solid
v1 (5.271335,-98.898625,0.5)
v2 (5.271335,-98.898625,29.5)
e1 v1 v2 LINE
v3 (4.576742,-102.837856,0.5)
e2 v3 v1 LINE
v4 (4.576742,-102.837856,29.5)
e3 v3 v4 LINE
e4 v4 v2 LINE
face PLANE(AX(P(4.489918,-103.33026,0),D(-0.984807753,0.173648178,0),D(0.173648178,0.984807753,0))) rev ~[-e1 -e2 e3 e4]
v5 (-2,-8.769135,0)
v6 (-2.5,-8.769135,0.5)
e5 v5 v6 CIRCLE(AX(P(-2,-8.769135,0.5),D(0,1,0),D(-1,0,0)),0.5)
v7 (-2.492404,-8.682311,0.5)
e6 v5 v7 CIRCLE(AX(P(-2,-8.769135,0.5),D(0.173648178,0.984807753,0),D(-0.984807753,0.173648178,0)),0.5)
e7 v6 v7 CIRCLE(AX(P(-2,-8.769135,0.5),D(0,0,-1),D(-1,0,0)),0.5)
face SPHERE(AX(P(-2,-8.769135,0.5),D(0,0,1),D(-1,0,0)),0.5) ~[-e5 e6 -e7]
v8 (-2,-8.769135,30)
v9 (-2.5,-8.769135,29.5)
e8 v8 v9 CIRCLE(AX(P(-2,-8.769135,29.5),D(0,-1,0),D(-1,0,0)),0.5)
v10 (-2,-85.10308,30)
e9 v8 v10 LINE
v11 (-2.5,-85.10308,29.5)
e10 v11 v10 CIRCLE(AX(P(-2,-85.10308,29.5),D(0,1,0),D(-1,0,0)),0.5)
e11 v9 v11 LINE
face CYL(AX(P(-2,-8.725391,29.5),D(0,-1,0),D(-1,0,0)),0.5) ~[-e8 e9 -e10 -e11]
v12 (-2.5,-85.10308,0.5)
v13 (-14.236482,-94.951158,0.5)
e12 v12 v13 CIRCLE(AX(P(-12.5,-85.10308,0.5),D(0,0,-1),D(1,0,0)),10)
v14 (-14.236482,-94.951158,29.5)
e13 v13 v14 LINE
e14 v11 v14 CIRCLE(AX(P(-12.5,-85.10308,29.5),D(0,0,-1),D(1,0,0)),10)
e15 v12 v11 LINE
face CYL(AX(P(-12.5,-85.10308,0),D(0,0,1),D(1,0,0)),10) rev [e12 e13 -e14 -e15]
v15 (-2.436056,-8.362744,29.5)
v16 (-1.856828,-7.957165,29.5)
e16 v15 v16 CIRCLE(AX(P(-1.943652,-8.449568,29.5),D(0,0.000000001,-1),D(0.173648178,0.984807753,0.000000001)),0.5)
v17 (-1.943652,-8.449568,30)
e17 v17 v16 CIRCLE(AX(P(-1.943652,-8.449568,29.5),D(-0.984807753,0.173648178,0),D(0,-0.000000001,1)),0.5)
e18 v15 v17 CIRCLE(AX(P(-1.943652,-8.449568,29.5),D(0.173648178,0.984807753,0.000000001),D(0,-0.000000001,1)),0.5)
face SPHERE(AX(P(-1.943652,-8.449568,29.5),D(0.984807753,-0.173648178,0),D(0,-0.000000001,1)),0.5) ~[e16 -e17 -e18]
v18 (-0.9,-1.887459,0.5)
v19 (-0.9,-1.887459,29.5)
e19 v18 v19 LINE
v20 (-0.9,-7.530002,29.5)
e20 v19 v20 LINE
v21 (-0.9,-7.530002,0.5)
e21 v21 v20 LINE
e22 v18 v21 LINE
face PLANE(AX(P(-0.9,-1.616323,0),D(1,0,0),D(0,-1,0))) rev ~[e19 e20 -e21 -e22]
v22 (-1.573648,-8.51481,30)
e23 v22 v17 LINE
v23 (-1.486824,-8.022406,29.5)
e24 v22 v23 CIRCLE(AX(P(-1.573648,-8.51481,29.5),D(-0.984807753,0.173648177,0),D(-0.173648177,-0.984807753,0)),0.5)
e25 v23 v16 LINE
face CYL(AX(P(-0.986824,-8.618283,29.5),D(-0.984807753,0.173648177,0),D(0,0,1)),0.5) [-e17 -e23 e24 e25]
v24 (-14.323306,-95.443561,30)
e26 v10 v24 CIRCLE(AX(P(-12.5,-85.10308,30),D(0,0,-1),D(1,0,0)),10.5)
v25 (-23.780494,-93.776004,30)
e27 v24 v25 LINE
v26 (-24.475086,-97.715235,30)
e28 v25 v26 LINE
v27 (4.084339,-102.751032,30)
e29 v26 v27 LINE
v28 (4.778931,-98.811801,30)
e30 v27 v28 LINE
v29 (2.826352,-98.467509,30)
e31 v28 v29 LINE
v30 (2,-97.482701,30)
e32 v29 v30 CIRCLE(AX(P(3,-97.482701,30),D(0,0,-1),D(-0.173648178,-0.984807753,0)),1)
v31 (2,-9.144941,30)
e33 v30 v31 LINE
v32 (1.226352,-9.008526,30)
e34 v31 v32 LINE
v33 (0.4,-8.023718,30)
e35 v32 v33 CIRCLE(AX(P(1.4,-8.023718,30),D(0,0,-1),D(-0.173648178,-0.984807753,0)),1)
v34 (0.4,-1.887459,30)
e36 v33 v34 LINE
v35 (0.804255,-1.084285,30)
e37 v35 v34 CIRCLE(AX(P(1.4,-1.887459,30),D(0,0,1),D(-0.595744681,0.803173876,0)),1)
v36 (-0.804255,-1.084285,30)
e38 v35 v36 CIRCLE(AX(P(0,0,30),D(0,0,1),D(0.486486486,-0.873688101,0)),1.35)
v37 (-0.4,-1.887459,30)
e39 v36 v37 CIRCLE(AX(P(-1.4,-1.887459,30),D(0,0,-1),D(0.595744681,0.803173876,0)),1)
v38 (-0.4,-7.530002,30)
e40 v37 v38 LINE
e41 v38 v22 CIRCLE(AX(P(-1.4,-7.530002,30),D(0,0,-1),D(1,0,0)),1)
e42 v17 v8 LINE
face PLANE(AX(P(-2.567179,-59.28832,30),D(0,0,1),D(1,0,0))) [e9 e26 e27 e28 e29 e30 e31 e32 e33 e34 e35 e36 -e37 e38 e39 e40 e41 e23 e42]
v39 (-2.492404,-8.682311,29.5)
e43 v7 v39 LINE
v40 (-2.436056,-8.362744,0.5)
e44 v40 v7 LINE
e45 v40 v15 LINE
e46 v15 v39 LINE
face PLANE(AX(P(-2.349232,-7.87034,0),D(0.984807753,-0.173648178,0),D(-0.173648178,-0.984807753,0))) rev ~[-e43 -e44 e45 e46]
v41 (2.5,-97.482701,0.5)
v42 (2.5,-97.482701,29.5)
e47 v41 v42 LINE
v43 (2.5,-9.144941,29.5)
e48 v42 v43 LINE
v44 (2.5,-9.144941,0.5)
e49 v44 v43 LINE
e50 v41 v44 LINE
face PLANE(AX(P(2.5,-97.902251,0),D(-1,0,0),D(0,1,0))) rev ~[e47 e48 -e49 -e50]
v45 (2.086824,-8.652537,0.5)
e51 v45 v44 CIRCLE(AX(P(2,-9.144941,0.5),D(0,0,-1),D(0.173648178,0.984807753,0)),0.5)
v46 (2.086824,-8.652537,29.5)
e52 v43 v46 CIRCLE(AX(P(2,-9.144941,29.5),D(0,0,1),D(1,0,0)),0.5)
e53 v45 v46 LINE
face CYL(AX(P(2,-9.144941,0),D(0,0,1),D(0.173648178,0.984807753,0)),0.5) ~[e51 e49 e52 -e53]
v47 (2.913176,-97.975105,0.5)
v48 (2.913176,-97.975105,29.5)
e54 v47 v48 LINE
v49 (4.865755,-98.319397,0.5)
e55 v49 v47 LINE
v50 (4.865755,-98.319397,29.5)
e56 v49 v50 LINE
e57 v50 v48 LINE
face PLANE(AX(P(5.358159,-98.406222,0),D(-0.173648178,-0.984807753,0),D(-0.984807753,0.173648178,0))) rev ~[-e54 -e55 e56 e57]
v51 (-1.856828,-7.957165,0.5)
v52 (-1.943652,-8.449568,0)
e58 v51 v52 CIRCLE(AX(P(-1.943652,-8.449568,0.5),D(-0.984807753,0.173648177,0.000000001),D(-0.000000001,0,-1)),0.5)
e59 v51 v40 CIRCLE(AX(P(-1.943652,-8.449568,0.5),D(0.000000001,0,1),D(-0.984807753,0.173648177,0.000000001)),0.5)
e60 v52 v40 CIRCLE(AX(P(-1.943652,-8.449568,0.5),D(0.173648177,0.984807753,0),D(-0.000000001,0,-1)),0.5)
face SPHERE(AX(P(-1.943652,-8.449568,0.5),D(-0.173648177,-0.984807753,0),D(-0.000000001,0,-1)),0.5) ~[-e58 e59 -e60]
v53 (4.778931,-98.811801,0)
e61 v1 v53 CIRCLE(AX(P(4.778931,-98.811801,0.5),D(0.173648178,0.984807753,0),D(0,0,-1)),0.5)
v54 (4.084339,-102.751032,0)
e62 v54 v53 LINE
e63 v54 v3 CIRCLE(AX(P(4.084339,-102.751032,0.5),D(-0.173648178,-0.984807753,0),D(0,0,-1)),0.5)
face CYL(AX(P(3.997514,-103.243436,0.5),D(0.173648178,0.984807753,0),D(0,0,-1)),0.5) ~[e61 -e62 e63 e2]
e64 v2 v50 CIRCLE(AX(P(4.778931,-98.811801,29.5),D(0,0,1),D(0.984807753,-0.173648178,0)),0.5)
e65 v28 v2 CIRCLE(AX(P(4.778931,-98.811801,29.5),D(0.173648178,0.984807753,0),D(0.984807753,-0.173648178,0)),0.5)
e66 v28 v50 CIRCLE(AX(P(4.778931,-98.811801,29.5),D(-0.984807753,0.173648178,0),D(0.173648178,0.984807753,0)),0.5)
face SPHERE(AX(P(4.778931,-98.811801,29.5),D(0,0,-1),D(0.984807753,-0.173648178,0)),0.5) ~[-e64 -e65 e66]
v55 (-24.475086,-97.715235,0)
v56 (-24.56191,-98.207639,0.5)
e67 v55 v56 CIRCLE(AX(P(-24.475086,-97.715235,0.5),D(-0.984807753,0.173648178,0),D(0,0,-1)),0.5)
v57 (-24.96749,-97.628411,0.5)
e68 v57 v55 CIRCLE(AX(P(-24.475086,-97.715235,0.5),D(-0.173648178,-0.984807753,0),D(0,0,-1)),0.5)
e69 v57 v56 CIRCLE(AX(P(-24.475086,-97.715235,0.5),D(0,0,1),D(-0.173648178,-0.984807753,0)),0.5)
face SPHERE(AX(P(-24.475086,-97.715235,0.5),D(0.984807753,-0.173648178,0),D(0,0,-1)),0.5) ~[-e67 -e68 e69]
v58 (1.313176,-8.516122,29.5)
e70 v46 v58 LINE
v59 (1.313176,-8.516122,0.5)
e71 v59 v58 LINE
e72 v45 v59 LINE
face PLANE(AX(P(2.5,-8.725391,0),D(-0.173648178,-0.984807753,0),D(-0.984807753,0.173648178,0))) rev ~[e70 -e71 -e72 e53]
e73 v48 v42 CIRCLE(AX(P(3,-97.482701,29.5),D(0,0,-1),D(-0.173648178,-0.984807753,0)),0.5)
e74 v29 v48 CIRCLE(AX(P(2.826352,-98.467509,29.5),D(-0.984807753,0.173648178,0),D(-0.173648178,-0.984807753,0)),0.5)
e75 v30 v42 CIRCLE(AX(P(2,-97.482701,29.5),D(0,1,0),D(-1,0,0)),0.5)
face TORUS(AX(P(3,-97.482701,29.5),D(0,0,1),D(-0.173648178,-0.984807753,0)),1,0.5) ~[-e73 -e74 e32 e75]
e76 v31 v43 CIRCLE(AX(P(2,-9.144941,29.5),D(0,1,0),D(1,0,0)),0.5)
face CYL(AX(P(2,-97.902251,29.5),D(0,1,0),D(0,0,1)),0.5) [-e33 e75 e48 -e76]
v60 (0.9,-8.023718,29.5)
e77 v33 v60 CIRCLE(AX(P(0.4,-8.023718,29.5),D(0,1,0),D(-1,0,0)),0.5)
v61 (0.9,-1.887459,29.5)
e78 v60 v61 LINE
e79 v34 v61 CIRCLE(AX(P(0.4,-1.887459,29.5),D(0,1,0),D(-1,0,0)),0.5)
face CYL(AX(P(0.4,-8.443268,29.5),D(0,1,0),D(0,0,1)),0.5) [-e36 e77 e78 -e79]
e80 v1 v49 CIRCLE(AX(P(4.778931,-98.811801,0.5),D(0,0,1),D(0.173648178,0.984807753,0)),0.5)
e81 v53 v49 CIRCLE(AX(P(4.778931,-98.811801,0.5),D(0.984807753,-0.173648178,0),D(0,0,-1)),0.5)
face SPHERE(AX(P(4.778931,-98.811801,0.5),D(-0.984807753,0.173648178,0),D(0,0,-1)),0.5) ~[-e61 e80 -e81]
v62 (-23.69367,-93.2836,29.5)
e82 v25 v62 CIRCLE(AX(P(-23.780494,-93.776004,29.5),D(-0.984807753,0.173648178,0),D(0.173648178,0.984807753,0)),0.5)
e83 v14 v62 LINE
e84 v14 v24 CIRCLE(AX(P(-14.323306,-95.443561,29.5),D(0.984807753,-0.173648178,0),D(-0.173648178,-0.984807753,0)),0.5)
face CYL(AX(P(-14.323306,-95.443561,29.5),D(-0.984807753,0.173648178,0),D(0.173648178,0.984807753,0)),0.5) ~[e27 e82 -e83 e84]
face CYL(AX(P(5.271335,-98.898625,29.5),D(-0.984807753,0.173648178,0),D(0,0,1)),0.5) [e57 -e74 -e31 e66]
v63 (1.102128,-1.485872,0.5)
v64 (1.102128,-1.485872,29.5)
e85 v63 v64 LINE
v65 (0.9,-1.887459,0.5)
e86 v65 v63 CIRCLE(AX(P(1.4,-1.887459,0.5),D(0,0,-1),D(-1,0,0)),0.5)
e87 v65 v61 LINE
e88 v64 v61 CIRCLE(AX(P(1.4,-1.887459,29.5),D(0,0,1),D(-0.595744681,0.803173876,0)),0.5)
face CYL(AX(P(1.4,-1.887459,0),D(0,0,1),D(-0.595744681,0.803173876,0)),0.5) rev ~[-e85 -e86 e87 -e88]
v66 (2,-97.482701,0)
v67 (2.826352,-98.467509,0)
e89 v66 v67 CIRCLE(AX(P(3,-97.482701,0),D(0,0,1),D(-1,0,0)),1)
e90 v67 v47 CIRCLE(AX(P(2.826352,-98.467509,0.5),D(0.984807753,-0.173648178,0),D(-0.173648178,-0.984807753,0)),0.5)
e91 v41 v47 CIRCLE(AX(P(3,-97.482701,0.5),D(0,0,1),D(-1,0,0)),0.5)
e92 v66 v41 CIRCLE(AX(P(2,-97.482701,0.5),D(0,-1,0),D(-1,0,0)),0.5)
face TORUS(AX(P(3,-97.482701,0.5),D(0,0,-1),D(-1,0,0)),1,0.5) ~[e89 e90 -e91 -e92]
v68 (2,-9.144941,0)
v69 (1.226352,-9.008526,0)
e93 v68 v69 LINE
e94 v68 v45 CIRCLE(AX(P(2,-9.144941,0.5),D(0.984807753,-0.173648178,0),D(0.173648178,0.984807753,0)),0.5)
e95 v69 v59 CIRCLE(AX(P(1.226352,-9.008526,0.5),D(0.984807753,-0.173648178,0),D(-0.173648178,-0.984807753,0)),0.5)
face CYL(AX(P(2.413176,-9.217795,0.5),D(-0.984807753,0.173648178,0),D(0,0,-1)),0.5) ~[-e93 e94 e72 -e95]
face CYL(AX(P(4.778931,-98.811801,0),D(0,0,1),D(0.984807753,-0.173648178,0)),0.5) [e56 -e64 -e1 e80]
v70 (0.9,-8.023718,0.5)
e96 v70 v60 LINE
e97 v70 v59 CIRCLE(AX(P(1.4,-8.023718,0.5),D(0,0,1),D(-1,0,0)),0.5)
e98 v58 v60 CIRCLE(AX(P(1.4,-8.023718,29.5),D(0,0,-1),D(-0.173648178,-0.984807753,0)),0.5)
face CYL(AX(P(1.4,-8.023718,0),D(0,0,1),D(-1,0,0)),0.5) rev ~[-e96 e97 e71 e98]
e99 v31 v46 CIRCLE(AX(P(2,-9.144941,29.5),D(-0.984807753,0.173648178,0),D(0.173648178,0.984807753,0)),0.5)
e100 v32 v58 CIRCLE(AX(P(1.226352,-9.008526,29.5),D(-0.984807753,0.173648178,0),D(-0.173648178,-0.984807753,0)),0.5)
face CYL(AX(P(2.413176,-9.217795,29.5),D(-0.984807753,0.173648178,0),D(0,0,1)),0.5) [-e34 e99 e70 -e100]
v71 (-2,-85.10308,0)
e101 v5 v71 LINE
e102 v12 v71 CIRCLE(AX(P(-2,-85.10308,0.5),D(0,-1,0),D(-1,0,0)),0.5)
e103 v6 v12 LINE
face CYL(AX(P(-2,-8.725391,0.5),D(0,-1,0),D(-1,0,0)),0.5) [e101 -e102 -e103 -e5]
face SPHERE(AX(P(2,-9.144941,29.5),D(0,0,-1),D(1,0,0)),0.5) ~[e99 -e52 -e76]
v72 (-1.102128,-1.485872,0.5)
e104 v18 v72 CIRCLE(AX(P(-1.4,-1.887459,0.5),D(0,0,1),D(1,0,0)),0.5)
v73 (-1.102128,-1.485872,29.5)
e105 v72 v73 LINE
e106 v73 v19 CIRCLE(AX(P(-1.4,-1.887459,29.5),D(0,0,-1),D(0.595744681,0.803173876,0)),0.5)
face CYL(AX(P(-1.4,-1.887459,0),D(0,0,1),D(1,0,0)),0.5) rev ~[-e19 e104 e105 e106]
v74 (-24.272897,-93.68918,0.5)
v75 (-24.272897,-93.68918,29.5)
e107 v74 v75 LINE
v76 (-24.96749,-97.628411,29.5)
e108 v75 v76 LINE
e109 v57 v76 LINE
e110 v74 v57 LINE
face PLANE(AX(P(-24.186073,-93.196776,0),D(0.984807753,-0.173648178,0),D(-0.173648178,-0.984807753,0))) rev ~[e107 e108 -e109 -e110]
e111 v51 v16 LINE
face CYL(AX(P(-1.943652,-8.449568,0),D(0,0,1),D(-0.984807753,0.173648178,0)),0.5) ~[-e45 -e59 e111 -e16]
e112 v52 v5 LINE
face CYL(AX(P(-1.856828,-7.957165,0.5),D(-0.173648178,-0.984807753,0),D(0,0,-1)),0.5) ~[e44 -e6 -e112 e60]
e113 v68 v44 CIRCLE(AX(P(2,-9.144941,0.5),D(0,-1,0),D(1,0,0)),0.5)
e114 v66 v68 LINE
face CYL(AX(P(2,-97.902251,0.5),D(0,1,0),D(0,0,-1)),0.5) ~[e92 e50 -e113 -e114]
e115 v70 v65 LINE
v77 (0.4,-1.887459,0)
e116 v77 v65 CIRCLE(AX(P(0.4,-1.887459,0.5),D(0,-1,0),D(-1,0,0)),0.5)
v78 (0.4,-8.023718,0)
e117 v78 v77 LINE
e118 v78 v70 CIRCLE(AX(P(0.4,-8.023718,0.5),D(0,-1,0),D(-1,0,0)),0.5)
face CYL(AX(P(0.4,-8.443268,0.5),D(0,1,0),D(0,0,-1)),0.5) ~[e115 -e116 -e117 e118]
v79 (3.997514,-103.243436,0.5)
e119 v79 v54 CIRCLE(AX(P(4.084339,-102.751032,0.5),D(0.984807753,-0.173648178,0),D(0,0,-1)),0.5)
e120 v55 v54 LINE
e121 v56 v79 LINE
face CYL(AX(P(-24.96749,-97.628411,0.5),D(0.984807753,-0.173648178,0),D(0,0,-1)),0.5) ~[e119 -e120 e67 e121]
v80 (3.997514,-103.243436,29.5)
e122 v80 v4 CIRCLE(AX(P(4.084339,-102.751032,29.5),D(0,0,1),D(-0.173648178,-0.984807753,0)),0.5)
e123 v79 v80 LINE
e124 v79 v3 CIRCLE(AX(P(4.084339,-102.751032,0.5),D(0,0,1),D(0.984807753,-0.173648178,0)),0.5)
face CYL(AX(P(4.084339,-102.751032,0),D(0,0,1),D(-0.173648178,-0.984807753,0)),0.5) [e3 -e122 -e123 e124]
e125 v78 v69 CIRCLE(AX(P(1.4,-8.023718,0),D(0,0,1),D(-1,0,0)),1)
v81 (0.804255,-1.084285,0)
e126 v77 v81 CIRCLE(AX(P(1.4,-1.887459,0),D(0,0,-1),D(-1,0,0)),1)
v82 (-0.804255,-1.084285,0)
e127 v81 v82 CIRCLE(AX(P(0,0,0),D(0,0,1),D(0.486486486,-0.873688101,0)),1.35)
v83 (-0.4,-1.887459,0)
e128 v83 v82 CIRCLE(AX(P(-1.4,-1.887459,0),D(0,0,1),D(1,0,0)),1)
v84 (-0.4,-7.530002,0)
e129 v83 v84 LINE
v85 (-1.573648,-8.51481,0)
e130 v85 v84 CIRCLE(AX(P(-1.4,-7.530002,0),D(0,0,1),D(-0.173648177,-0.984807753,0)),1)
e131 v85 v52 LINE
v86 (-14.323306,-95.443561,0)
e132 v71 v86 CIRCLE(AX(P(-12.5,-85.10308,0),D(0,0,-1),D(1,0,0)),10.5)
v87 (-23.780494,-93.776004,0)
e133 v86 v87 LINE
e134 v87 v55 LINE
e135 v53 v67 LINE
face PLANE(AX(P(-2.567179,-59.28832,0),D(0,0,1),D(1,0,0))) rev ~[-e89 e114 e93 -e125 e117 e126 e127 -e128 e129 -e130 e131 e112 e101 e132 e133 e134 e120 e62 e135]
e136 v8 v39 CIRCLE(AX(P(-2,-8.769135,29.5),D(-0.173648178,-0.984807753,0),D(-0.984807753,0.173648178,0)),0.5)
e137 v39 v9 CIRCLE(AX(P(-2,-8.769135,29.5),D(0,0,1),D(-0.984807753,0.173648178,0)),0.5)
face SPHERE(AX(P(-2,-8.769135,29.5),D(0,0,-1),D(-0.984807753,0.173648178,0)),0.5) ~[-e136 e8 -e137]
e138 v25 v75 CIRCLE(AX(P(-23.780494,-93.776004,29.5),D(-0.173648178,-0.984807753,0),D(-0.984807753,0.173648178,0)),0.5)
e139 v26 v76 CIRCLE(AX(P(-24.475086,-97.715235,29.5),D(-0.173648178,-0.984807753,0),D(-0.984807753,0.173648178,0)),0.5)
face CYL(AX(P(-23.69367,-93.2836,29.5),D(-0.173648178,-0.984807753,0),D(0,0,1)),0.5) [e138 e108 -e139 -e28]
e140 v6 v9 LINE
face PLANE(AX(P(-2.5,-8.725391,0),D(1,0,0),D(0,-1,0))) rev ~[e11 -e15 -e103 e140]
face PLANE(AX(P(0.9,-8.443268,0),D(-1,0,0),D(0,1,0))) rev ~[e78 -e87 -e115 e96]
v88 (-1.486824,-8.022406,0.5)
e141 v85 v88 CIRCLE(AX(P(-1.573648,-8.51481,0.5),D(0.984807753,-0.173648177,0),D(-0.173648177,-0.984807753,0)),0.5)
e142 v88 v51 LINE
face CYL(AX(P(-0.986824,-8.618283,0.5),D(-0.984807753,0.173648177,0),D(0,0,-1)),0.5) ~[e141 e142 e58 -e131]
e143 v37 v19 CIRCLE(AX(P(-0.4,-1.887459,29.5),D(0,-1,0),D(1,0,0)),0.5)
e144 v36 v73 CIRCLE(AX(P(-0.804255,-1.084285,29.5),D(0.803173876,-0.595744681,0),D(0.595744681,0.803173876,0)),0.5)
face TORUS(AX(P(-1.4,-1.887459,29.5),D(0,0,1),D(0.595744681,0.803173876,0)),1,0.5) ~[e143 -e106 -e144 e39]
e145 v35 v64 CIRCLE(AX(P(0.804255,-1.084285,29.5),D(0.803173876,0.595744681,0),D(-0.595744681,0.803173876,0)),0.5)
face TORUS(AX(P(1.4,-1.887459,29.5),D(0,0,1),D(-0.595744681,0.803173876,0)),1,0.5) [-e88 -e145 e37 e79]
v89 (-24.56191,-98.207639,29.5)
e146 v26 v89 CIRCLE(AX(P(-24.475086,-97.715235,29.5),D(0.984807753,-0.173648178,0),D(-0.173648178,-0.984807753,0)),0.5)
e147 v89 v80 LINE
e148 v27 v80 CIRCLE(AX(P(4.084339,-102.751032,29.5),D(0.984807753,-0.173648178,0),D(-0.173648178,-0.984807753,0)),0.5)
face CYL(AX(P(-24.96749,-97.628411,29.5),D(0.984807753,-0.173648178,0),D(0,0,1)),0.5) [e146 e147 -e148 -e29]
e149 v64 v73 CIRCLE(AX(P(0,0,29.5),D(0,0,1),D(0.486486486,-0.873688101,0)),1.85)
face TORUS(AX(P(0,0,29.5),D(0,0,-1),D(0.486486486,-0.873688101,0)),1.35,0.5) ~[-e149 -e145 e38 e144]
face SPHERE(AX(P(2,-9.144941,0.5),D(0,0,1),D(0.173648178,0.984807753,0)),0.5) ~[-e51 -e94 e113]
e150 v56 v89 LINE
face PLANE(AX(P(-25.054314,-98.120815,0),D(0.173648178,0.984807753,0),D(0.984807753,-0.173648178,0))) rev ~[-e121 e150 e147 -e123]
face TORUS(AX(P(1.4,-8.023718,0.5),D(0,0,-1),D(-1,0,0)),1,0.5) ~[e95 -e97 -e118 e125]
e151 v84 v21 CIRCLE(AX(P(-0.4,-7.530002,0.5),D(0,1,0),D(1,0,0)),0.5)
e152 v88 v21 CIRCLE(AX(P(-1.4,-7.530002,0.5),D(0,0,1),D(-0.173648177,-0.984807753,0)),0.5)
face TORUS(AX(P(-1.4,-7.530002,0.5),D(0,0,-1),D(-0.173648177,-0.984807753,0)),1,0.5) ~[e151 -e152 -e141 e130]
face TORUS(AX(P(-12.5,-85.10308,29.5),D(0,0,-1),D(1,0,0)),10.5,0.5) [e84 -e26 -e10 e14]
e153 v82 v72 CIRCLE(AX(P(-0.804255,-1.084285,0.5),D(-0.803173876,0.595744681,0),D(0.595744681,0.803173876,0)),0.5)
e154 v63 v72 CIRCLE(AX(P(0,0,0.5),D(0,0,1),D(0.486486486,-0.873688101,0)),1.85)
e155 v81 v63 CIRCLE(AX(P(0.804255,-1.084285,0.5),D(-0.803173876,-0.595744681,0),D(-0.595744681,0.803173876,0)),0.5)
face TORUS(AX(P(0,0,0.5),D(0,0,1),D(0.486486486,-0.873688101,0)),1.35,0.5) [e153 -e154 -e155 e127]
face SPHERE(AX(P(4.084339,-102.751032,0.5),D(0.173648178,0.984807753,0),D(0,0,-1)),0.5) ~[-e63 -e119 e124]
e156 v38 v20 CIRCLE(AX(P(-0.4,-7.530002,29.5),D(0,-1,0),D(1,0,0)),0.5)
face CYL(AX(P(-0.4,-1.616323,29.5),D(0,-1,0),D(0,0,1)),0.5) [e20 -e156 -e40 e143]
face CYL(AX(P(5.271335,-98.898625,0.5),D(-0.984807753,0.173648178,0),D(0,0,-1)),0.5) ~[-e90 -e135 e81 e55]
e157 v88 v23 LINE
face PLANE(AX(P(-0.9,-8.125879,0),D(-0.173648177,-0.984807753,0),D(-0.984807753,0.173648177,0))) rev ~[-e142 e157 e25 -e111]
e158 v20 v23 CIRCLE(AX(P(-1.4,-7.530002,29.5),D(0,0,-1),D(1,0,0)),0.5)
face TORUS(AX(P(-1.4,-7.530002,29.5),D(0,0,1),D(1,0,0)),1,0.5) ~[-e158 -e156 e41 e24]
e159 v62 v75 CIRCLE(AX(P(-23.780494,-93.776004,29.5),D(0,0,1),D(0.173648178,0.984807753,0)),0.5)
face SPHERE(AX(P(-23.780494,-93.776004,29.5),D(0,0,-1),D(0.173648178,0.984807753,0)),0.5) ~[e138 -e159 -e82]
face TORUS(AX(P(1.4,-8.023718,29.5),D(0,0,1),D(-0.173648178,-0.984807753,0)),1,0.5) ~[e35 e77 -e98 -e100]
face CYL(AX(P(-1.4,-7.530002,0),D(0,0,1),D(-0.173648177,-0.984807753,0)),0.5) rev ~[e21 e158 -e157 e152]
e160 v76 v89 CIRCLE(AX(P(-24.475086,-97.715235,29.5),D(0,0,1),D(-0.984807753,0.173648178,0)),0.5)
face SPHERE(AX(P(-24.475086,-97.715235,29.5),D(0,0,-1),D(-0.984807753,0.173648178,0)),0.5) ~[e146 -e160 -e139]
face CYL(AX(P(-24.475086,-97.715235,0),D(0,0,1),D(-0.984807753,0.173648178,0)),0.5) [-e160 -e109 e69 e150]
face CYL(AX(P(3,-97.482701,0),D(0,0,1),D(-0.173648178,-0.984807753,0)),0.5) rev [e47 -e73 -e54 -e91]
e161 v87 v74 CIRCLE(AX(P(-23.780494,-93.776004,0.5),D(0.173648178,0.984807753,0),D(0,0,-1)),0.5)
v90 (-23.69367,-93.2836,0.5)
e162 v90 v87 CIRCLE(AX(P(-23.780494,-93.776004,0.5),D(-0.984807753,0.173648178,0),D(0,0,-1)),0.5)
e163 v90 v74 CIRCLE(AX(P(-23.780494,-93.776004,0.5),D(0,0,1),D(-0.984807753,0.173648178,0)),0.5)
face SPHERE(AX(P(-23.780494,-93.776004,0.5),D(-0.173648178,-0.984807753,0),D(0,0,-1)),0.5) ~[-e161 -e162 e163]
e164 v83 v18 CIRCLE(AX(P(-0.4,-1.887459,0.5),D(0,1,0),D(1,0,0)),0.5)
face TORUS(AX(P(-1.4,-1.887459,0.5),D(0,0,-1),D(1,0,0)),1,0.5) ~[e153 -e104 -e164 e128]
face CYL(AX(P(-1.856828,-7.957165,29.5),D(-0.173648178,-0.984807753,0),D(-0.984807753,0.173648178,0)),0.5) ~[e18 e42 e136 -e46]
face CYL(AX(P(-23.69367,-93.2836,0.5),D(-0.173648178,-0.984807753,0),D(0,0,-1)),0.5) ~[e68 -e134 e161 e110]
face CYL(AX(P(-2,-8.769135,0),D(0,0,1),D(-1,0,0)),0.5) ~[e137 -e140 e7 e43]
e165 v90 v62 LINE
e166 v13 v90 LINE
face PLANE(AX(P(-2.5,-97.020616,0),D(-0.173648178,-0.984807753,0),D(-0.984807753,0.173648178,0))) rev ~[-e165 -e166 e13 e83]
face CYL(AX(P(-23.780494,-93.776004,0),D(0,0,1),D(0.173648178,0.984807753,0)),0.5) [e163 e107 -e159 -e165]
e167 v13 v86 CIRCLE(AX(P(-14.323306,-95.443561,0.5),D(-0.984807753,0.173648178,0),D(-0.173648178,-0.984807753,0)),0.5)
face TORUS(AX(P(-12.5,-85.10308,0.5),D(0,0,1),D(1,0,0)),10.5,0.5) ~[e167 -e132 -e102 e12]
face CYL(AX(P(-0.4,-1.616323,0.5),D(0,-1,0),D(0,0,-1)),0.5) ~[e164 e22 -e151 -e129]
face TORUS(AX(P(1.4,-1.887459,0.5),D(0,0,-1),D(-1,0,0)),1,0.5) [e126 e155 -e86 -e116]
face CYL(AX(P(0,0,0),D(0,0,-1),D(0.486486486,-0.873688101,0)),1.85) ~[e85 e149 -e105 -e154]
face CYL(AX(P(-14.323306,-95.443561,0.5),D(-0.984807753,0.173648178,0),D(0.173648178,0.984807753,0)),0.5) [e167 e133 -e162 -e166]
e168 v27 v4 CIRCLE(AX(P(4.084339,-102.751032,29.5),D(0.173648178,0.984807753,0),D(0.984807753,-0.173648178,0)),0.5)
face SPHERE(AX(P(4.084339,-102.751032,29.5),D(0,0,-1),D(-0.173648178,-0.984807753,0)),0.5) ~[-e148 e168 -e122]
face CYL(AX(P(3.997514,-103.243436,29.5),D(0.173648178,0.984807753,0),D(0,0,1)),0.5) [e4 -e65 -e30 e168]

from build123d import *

# Parameters (mm, degrees)
SALIENTE_EXTRUIR1_DEPTH = 30
REDONDEO1_R             = 10
REDONDEO2_R             = 0.5


with BuildPart() as part:
    # Croquis1 → Saliente-Extruir1 (new body)
    with BuildSketch(Plane.XY):
        with BuildLine():
            ThreePointArc((0.9, -1.616322988), (0, 1.85), (-0.9, -1.616322988))
            Line((-0.9, -1.616322988), (-0.9, -8.125879105))
            Line((-0.9, -8.125879105), (-2.349231552, -7.870340482))
            Line((-2.349231552, -7.870340482), (-2.5, -8.72539084))
            Line((-2.5, -8.72539084), (-2.5, -97.020616019))
            Line((-2.5, -97.020616019), (-24.186073381, -93.196776176))
            Line((-24.186073381, -93.196776176), (-25.054314269, -98.120814941))
            Line((-25.054314269, -98.120814941), (4.489918321, -103.330260271))
            Line((4.489918321, -103.330260271), (5.358159209, -98.406221506))
            Line((5.358159209, -98.406221506), (2.5, -97.902250922))
            Line((2.5, -97.902250922), (2.5, -8.72539084))
            Line((2.5, -8.72539084), (0.9, -8.443267671))
            Line((0.9, -8.443267671), (0.9, -1.616322988))
        make_face()
    extrude(amount=SALIENTE_EXTRUIR1_DEPTH)

    # Redondeo1
    redondeo1_edges = [part.edges().sort_by_distance(p)[0] for p in [
        (-2.5, -97.020616019, 15),
    ]]
    fillet(redondeo1_edges, radius=REDONDEO1_R)

    # Redondeo2
    redondeo2_edges = [part.edges().sort_by_distance(p)[0] for p in [
        (-0.9, -4.871101047, 30),
        (-1.624615776, -7.998109794, 30),
        (0.9, -5.029795329, 0),
        (1.7, -8.584329255, 0),
        (2.5, -53.313820881, 0),
        (3.929079605, -98.154236214, 0),
        (4.924038765, -100.868240888, 0),
        (-10.282197974, -100.725537606, 0),
        (-24.620193825, -95.658795558, 0),
        (-2.5, -46.914235466, 0),
        (-2.424615776, -8.297865661, 0),
        (-1.624615776, -7.998109794, 0),
        (-0.9, -4.871101047, 0),
        (0, 1.85, 0),
        (-2.424615776, -8.297865661, 30),
        (0.9, -1.616322988, 15),
        (0.9, -8.443267671, 15),
        (2.5, -8.72539084, 15),
        (2.5, -97.902250922, 15),
        (5.358159209, -98.406221506, 15),
        (4.489918321, -103.330260271, 15),
        (-25.054314269, -98.120814941, 15),
        (-24.186073381, -93.196776176, 15),
        (-2.5, -46.914235466, 30),
        (-2.5, -8.72539084, 15),
        (-2.349231552, -7.870340482, 15),
        (-0.9, -8.125879105, 15),
        (-0.9, -1.616322988, 15),
        (-24.620193825, -95.658795558, 30),
        (-10.282197974, -100.725537606, 30),
        (-19.211277579, -94.073966899, 0),
        (-19.211277579, -94.073966899, 30),
        (-6.072123903, -92.763524524, 0),
        (-6.072123903, -92.763524524, 30),
        (0, 1.85, 30),
        (4.924038765, -100.868240888, 30),
        (3.929079605, -98.154236214, 30),
        (2.5, -53.313820881, 30),
        (1.7, -8.584329255, 30),
        (0.9, -5.029795329, 30),
    ]]
    fillet(redondeo2_edges, radius=REDONDEO2_R)


solid = part.part
